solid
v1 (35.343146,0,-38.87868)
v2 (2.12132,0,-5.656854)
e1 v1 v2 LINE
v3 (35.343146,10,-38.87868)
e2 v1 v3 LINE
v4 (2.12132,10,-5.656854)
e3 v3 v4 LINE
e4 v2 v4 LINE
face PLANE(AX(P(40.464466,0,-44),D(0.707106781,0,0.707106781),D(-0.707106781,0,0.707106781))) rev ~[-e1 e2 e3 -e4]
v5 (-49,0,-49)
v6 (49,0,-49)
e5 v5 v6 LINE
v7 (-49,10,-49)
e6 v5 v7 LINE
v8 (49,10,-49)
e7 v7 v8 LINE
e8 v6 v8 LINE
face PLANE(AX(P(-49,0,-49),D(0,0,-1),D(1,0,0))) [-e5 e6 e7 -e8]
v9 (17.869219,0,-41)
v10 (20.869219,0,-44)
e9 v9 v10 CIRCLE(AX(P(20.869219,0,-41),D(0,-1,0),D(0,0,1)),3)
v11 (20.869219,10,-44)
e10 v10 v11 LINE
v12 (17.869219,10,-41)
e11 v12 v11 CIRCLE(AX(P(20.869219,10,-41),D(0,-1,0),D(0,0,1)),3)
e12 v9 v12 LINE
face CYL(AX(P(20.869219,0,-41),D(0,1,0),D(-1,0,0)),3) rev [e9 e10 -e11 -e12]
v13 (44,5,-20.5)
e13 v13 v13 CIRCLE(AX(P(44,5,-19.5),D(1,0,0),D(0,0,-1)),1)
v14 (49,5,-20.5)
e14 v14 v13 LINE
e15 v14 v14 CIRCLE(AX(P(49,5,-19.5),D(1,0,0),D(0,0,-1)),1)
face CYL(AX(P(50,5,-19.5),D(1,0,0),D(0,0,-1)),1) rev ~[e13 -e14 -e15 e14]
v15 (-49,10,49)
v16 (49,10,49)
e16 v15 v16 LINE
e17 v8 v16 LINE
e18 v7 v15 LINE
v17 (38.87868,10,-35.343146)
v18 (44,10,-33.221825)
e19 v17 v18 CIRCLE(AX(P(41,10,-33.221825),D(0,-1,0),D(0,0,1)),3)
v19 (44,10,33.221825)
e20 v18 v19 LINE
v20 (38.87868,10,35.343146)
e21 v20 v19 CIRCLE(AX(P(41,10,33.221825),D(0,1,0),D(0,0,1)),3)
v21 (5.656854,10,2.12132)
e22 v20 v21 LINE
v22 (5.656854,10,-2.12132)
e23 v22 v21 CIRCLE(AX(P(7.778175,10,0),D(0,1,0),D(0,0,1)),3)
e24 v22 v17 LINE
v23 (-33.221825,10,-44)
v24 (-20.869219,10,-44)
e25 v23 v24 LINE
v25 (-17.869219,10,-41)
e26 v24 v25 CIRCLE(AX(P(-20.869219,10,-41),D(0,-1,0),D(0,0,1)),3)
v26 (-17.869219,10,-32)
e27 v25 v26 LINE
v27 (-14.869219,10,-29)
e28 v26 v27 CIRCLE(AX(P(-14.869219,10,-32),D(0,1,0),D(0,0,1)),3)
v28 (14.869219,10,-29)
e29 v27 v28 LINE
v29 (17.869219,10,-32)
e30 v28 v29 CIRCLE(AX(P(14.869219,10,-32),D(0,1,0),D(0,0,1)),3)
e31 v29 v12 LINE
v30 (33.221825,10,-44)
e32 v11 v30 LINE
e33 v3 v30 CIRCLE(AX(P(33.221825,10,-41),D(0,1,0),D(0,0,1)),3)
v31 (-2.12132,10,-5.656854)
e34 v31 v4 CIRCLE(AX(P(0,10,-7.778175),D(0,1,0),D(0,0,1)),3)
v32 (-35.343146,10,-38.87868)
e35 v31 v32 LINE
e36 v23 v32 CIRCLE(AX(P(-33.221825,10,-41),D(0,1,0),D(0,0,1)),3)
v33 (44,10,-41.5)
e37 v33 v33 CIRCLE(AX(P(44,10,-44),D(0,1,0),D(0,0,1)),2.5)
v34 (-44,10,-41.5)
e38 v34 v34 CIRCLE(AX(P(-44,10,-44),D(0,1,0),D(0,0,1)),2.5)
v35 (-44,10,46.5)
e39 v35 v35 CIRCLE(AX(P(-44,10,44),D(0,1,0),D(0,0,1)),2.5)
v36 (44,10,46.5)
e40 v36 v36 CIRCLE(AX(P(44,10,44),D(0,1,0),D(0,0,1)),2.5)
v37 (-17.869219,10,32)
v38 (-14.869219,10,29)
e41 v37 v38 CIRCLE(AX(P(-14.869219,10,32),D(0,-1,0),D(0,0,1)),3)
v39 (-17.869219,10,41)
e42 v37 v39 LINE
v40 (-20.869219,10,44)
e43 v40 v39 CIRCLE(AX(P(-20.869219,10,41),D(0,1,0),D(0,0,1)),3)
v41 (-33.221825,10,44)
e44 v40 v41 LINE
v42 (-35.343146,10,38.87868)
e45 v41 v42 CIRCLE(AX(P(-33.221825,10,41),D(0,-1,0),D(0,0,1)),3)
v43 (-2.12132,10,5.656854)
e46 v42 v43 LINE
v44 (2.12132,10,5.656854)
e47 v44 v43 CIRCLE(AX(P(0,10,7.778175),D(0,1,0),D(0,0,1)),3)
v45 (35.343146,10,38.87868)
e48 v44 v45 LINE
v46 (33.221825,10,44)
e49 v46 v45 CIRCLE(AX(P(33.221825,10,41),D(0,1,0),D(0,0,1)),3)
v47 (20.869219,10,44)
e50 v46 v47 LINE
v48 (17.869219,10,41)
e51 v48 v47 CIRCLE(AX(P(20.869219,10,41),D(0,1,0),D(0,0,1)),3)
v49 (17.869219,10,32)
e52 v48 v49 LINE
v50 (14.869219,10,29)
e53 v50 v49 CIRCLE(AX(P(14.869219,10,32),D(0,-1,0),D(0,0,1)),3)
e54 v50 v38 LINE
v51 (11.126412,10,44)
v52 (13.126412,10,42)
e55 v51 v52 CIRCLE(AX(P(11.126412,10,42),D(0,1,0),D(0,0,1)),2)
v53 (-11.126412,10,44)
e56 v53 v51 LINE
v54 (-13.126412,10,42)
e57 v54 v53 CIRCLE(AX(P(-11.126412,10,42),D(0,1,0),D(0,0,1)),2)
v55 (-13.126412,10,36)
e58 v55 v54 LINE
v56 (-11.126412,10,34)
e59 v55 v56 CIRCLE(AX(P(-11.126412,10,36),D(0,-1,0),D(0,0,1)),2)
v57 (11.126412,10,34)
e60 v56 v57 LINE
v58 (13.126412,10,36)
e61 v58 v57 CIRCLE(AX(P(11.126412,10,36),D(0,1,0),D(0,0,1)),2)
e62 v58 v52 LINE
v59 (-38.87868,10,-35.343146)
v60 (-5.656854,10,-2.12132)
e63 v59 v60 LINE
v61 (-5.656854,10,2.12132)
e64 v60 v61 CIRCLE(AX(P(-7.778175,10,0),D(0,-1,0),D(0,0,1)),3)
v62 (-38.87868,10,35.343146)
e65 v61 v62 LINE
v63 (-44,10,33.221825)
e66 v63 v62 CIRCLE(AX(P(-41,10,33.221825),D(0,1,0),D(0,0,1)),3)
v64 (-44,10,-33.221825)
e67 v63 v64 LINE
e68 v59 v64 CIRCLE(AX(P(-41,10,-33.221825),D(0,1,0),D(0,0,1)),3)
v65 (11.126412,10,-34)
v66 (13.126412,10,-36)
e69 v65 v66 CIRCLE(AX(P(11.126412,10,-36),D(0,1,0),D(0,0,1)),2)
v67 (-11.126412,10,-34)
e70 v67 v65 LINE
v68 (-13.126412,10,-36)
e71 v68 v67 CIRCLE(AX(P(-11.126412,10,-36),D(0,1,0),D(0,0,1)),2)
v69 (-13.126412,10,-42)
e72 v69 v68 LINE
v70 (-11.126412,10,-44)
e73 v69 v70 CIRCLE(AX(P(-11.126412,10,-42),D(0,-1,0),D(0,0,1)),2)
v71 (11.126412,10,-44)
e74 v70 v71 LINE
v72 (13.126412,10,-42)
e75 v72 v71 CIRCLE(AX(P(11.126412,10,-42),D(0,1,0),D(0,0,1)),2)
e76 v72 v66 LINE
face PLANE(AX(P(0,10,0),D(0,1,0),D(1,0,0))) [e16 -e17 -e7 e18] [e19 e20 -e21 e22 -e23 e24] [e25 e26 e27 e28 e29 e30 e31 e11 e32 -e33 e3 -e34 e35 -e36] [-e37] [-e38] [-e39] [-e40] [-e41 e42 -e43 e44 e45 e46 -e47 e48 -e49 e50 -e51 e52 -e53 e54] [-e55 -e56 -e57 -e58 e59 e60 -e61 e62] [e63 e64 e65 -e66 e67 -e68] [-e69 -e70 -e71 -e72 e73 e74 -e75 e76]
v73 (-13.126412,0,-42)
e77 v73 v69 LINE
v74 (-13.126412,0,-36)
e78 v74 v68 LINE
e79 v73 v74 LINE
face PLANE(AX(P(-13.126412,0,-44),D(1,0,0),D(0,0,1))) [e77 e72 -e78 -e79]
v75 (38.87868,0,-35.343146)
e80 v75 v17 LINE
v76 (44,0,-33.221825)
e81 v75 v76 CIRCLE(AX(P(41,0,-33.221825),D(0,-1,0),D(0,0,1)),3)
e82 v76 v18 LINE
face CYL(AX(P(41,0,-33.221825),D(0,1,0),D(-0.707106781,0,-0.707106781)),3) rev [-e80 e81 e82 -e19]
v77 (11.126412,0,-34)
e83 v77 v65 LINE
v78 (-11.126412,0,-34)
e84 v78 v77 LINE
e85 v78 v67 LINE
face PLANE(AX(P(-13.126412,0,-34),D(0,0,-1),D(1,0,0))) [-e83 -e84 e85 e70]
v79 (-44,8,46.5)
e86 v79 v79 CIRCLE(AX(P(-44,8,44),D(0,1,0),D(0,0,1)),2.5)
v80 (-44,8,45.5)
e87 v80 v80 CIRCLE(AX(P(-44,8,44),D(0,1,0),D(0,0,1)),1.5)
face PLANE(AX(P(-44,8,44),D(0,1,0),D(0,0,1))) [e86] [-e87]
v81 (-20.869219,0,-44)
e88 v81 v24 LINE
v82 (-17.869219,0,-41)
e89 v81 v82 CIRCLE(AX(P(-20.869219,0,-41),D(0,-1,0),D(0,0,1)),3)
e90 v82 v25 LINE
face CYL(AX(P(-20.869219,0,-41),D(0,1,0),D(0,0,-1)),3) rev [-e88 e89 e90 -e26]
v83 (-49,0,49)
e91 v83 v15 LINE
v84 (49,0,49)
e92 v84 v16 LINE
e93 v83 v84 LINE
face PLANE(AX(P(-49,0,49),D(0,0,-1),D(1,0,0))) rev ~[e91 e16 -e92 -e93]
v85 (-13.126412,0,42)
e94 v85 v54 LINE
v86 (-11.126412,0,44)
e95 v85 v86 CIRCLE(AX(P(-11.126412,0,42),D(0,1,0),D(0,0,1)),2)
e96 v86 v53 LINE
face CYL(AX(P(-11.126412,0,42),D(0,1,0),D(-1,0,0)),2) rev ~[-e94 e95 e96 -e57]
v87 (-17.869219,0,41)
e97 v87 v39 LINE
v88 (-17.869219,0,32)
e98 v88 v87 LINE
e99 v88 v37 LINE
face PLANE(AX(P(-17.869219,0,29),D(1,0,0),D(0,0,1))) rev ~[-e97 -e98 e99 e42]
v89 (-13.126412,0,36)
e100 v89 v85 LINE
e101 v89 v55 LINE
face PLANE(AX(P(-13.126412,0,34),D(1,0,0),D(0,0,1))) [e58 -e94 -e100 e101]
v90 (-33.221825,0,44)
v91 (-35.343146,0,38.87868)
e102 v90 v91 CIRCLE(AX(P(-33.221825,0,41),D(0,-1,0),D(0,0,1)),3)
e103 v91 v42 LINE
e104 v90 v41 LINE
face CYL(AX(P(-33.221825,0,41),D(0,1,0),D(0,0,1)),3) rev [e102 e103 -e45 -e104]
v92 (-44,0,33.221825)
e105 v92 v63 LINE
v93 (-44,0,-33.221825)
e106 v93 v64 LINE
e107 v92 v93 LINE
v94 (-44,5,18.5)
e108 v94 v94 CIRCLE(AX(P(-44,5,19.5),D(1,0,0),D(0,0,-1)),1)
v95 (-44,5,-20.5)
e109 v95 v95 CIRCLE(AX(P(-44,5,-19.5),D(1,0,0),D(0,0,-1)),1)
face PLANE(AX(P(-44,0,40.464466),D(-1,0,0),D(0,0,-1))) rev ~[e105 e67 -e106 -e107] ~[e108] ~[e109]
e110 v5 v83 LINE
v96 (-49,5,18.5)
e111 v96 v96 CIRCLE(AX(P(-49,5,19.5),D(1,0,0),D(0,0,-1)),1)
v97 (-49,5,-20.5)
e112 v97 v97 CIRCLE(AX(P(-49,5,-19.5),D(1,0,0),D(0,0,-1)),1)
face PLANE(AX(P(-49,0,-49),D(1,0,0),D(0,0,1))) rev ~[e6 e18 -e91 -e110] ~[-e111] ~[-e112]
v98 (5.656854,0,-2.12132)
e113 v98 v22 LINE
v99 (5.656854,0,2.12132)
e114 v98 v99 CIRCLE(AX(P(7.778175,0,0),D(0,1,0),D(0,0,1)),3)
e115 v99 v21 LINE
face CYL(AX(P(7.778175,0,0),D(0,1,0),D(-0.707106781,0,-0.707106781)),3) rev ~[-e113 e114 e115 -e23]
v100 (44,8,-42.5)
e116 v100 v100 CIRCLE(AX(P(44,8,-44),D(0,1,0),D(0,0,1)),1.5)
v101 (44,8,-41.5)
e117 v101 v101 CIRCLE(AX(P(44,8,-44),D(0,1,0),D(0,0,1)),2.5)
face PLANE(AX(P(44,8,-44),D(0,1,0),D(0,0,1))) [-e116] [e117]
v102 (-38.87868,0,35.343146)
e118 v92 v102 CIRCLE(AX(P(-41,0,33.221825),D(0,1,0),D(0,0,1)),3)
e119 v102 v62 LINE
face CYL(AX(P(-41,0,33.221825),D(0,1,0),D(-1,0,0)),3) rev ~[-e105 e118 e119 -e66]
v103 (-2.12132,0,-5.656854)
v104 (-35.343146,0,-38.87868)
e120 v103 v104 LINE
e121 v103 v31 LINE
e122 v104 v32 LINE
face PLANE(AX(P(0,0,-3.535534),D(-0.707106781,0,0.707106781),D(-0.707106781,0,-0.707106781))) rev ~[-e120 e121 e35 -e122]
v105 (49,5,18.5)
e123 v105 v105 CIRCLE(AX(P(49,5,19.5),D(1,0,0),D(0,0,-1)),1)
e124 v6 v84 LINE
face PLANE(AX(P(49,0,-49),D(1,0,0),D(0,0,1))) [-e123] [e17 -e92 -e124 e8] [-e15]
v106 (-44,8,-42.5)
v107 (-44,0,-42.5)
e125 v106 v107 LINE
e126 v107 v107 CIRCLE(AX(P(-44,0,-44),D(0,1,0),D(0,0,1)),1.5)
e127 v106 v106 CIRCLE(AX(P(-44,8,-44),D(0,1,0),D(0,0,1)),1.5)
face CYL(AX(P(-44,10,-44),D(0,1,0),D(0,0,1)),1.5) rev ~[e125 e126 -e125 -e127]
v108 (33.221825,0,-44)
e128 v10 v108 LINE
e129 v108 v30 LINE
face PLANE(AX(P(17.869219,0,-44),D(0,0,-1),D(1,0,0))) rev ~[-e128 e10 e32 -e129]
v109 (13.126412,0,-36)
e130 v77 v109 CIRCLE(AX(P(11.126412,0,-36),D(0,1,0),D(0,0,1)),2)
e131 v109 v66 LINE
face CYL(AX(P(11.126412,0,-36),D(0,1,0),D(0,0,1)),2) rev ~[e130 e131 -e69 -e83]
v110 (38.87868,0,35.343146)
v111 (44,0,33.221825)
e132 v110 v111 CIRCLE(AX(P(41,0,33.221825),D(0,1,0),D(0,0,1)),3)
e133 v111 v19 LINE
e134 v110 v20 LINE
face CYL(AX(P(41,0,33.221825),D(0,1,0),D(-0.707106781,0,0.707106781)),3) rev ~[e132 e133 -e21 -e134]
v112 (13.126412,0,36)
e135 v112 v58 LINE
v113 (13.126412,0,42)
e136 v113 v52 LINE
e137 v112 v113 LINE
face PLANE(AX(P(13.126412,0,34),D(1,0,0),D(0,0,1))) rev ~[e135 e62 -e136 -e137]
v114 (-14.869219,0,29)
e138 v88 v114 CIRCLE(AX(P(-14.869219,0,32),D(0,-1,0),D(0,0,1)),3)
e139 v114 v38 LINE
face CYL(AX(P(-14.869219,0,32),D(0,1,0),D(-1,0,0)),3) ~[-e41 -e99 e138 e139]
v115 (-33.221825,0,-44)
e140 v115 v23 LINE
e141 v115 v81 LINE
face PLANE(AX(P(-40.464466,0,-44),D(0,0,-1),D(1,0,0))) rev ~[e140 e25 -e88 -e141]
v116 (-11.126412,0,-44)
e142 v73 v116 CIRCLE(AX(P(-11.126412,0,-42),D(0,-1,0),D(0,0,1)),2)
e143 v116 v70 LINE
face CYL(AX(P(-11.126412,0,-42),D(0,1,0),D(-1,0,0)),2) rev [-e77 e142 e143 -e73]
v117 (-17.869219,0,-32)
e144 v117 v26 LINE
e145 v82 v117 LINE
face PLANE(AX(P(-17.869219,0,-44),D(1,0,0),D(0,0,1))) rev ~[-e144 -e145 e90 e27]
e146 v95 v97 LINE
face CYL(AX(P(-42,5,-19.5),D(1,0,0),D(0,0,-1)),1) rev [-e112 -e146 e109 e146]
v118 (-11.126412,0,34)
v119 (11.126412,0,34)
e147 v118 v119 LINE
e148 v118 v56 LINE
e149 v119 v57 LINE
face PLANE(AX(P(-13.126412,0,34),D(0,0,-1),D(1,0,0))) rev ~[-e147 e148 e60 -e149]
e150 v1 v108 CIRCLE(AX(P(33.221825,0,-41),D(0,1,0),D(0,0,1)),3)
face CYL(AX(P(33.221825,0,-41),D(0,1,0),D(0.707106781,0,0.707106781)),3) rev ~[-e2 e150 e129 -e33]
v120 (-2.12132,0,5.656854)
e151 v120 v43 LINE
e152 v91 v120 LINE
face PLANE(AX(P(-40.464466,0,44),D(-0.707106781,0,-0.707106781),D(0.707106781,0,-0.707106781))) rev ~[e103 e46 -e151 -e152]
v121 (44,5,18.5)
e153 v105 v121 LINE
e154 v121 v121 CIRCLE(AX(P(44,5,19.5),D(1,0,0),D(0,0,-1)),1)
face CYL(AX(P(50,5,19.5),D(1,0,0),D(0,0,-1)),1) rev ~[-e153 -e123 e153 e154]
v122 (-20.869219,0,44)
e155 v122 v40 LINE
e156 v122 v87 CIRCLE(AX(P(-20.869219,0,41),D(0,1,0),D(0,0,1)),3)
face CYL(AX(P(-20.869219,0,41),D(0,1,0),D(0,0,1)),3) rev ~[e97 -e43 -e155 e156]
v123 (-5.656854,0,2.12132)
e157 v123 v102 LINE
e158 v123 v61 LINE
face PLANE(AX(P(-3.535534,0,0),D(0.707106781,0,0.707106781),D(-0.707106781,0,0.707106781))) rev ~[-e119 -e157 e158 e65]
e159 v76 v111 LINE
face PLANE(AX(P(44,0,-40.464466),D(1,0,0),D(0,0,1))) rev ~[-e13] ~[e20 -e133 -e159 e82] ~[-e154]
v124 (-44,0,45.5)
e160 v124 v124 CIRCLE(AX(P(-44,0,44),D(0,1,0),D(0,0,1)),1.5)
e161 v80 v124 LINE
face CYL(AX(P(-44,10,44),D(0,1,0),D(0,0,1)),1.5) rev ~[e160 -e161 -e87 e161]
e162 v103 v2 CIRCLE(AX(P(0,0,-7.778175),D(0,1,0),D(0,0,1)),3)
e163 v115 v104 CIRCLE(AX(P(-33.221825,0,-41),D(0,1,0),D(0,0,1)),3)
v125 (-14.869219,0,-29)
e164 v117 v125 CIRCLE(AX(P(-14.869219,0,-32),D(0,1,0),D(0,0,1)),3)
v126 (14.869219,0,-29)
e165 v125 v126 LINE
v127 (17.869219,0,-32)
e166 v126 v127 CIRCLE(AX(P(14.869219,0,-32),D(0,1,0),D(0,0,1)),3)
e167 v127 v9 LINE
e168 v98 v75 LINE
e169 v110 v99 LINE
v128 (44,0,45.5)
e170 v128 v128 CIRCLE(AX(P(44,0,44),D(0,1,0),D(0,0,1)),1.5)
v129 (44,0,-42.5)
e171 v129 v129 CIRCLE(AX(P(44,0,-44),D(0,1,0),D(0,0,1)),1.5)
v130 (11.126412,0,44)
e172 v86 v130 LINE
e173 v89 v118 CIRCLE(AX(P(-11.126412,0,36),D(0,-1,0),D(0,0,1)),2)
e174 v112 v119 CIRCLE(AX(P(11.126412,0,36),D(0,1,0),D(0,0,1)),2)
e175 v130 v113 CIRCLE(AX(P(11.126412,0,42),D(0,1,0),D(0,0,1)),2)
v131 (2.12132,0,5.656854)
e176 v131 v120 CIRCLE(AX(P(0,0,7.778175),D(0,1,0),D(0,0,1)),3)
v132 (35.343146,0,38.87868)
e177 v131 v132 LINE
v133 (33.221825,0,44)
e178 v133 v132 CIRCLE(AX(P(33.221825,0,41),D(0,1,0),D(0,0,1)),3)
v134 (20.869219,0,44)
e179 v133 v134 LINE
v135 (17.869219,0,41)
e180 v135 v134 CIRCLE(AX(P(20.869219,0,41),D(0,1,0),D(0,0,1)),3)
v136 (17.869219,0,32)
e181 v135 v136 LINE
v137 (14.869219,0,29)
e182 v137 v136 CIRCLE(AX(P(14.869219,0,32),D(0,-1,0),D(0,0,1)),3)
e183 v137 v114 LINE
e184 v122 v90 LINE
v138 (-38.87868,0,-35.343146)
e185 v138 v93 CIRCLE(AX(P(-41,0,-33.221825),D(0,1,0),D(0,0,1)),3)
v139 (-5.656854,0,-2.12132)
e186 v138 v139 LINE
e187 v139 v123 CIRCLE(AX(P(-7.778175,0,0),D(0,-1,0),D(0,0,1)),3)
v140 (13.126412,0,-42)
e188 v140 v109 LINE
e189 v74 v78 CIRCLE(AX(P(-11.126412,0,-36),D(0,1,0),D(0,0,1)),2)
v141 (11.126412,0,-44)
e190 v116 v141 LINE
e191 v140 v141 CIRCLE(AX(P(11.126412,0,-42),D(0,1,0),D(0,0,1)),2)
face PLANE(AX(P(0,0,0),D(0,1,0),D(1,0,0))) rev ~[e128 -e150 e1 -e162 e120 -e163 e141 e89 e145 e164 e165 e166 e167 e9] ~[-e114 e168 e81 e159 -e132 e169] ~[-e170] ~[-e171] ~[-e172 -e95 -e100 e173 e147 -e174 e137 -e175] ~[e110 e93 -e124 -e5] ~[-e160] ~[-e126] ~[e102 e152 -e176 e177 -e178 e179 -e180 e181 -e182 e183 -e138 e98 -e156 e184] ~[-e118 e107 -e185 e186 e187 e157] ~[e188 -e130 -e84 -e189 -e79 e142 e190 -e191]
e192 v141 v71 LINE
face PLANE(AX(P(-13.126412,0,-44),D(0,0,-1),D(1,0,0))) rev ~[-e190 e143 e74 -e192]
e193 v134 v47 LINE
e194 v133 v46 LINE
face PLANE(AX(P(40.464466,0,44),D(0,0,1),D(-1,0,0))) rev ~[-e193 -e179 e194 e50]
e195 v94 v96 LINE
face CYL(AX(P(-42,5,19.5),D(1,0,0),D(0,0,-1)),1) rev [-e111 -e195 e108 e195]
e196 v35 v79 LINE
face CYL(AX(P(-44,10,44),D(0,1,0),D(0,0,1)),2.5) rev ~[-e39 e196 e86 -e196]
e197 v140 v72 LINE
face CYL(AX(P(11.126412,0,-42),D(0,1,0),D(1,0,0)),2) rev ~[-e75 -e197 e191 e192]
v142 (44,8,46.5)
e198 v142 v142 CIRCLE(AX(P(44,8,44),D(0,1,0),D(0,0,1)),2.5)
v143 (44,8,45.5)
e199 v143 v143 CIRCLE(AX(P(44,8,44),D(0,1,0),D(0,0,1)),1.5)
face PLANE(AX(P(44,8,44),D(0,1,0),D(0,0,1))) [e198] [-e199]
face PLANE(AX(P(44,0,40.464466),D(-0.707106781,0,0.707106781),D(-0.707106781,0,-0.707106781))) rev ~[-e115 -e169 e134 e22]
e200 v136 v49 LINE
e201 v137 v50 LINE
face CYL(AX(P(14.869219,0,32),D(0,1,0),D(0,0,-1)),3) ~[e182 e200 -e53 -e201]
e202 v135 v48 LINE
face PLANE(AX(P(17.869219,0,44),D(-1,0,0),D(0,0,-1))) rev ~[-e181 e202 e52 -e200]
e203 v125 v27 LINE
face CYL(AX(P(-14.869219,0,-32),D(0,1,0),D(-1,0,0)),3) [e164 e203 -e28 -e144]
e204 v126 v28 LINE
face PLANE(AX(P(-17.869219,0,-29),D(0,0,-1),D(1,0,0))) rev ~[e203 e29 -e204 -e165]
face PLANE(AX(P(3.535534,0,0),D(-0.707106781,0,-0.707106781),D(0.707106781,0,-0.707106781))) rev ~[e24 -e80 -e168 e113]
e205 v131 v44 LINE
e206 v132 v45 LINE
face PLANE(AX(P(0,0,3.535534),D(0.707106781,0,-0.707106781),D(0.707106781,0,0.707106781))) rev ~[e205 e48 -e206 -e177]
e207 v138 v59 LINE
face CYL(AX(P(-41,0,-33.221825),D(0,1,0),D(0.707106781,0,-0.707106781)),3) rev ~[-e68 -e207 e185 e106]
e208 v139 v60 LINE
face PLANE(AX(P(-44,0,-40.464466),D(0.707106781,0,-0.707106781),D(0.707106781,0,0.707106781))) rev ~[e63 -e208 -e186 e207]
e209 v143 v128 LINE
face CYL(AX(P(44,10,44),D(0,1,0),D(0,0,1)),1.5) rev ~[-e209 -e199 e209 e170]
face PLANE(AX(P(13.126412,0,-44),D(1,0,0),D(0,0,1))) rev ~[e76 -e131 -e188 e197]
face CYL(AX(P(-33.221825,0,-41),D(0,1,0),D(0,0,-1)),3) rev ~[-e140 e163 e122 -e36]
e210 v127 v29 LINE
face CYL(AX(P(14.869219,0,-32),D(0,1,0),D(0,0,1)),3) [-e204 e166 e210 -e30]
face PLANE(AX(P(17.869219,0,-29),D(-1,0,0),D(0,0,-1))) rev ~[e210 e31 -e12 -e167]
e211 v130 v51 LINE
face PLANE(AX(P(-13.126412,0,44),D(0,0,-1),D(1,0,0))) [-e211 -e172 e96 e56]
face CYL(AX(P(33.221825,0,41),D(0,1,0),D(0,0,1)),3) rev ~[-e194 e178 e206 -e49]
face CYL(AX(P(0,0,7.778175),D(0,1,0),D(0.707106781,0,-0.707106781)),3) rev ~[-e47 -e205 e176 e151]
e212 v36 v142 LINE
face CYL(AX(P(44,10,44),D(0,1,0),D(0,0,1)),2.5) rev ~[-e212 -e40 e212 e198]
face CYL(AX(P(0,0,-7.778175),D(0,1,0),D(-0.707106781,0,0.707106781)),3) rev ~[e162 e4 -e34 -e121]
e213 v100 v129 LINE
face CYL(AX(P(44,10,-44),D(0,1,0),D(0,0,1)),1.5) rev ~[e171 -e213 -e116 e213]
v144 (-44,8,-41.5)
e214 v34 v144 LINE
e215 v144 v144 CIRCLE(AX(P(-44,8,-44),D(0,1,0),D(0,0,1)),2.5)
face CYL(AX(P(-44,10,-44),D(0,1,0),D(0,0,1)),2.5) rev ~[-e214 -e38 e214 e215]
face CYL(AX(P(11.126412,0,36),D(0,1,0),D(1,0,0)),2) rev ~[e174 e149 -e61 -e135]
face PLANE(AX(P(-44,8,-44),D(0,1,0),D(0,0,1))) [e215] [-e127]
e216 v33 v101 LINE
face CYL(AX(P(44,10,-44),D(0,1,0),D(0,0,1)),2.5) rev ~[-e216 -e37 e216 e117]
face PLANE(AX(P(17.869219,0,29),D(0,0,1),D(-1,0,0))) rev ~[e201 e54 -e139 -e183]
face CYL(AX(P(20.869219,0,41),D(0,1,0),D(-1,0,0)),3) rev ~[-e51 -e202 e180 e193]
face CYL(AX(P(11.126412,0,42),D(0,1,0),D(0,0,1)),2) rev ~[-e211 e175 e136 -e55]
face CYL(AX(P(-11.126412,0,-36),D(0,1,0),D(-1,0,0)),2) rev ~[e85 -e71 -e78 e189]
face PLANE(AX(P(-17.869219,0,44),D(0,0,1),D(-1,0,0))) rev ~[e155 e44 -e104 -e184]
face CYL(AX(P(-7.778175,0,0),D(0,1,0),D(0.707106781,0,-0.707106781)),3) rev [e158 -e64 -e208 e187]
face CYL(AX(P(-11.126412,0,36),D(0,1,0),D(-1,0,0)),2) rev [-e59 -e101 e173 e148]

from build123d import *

# Parameters (mm, degrees)
SKETCH1_W           = 106
SKETCH1_H           = 106
BOSS_EXTRUDE1_DEPTH = 10
CUT_EXTRUDE9_DEPTH  = 1.5
SKETCH18_W          = 106
SKETCH18_H          = 106
SKETCH18_W_2        = 100
SKETCH18_H_2        = 100
CUT_EXTRUDE14_DEPTH = 10
SKETCH20_R          = 1
CUT_EXTRUDE15_DEPTH = 8
CUT_EXTRUDE16_START = -8
SKETCH21_R          = 1
CUT_EXTRUDE16_DEPTH = 8
SKETCH23_W          = 100
SKETCH23_H          = 100
SKETCH23_W_2        = 98
SKETCH23_H_2        = 98
CUT_EXTRUDE17_DEPTH = 10
SKETCH17_W          = 26.25282414
SKETCH17_H          = 10
CUT_EXTRUDE19_DEPTH = 10
FILLET2_R           = 3
FILLET3_R           = 3
FILLET4_R           = 2
SKETCH26_R          = 1.5
CUT_EXTRUDE20_DEPTH = 10
SKETCH27_R          = 2.5
CUT_EXTRUDE21_DEPTH = 2


with BuildPart() as part:
    # Sketch1 → Boss-Extrude1 (new body)
    with BuildSketch(Plane(origin=(0, 0, 0), x_dir=(1, 0, 0), z_dir=(0, 1, 0))):
        Rectangle(SKETCH1_W, SKETCH1_H)
    extrude(amount=BOSS_EXTRUDE1_DEPTH)

    # Sketch12 → Cut-Extrude9 (cut)
    with BuildSketch(Plane(origin=(53, 0, 0), x_dir=(0, 0, -1), z_dir=(1, 0, 0))):
        with BuildLine():
            ThreePointArc((-17.75, 5), (-18.262563133, 6.237436867), (-19.5, 6.75))
            Line((-19.5, 6.75), (-19.5, 3.25))
            ThreePointArc((-19.5, 3.25), (-18.262563133, 3.762563133), (-17.75, 5))
        make_face()
        with BuildLine():
            Line((-19.5, 3.25), (-19.5, 6.75))
            ThreePointArc((-19.5, 6.75), (-21.25, 5), (-19.5, 3.25))
        make_face()
        with BuildLine():
            ThreePointArc((21.25, 5), (20.737436867, 6.237436867), (19.5, 6.75))
            Line((19.5, 6.75), (19.5, 3.25))
            ThreePointArc((19.5, 3.25), (20.737436867, 3.762563133), (21.25, 5))
        make_face()
        with BuildLine():
            Line((19.5, 3.25), (19.5, 6.75))
            ThreePointArc((19.5, 6.75), (17.75, 5), (19.5, 3.25))
        make_face()
    extrude(amount=-CUT_EXTRUDE9_DEPTH, mode=Mode.SUBTRACT)

    # Sketch18 → Cut-Extrude14 (cut)
    with BuildSketch(Plane.XZ):
        Rectangle(SKETCH18_W, SKETCH18_H)
        Rectangle(SKETCH18_W_2, SKETCH18_H_2, mode=Mode.SUBTRACT)
    extrude(amount=-CUT_EXTRUDE14_DEPTH, mode=Mode.SUBTRACT)

    # Sketch20 → Cut-Extrude15 (cut)
    with BuildSketch(Plane(origin=(50, 0, 0), x_dir=(0, 0, -1), z_dir=(1, 0, 0))):
        with Locations((19.5, 5)):
            Circle(SKETCH20_R)
        with Locations((-19.5, 5)):
            Circle(SKETCH20_R)
    extrude(amount=-CUT_EXTRUDE15_DEPTH, mode=Mode.SUBTRACT)

    # Sketch21 → Cut-Extrude16 (cut)
    with BuildSketch(Plane.ZY.offset(50).offset(CUT_EXTRUDE16_START)):
        with Locations(Location((19.5, 5, 0), (0, 0, 180))):
            Circle(SKETCH21_R)
        with Locations(Location((-19.5, 5, 0), (0, 0, 180))):
            Circle(SKETCH21_R)
    extrude(amount=CUT_EXTRUDE16_DEPTH, mode=Mode.SUBTRACT)

    # Sketch23 → Cut-Extrude17 (cut)
    with BuildSketch(Plane.XZ):
        Rectangle(SKETCH23_W, SKETCH23_H)
        Rectangle(SKETCH23_W_2, SKETCH23_H_2, mode=Mode.SUBTRACT)
    extrude(amount=-CUT_EXTRUDE17_DEPTH, mode=Mode.SUBTRACT)

    # Sketch17 → Cut-Extrude19 (cut)
    with BuildSketch(Plane.XZ):
        Polygon((-40.464466094, 44), (0, 3.535533906), (40.464466094, 44), (17.869219367, 44), (17.869219367, 29), (-17.869219367, 29), (-17.869219367, 44), align=None)
        with Locations((0, 39)):
            Rectangle(SKETCH17_W, SKETCH17_H)
        Polygon((44, -40.464466094), (44, 40.464466094), (3.535533906, 0), align=None)
        Polygon((-3.535533906, 0), (-44, 40.464466094), (-44, -40.464466094), align=None)
        Polygon((17.869219367, -44), (40.464466094, -44), (0, -3.535533906), (-40.464466094, -44), (-17.869219367, -44), (-17.869219367, -29), (17.869219367, -29), align=None)
        with Locations((0, -39)):
            Rectangle(SKETCH17_W, SKETCH17_H)
    extrude(amount=-CUT_EXTRUDE19_DEPTH, mode=Mode.SUBTRACT)

    # Fillet2
    fillet2_edges = [part.edges().sort_by_distance(p)[0] for p in [
        (40.464466094, 5, 44),
        (0, 5, 3.535533906),
        (-40.464466094, 5, 44),
        (44, 5, 40.464466094),
        (3.535533906, 5, 0),
        (44, 5, -40.464466094),
        (-44, 5, -40.464466094),
        (-44, 5, 40.464466094),
        (-3.535533906, 5, 0),
        (-40.464466094, 5, -44),
        (0, 5, -3.535533906),
        (40.464466094, 5, -44),
    ]]
    fillet(fillet2_edges, radius=FILLET2_R)

    # Fillet3
    fillet3_edges = [part.edges().sort_by_distance(p)[0] for p in [
        (17.869219367, 5, 29),
        (17.869219367, 5, 44),
        (-17.869219367, 5, 44),
        (-17.869219367, 5, 29),
        (17.869219367, 5, -44),
        (17.869219367, 5, -29),
        (-17.869219367, 5, -29),
        (-17.869219367, 5, -44),
    ]]
    fillet(fillet3_edges, radius=FILLET3_R)

    # Fillet4
    fillet4_edges = [part.edges().sort_by_distance(p)[0] for p in [
        (13.12641207, 5, 34),
        (-13.12641207, 5, 34),
        (-13.12641207, 5, 44),
        (13.12641207, 5, 44),
        (13.12641207, 5, -44),
        (-13.12641207, 5, -44),
        (-13.12641207, 5, -34),
        (13.12641207, 5, -34),
    ]]
    fillet(fillet4_edges, radius=FILLET4_R)

    # Sketch26 → Cut-Extrude20 (cut)
    with BuildSketch(Plane(origin=(0, 10, 0), x_dir=(1, 0, 0), z_dir=(0, 1, 0))):
        with Locations(Location((44, -44, 0), (0, 0, 270))):
            Circle(SKETCH26_R)
        with Locations(Location((-44, -44, 0), (0, 0, 270))):
            Circle(SKETCH26_R)
        with Locations(Location((44, 44, 0), (0, 0, 270))):
            Circle(SKETCH26_R)
        with Locations(Location((-44, 44, 0), (0, 0, 270))):
            Circle(SKETCH26_R)
    extrude(amount=-CUT_EXTRUDE20_DEPTH, mode=Mode.SUBTRACT)

    # Sketch27 → Cut-Extrude21 (cut)
    with BuildSketch(Plane(origin=(0, 10, 0), x_dir=(1, 0, 0), z_dir=(0, 1, 0))):
        with Locations(Location((44, -44, 0), (0, 0, 270))):
            Circle(SKETCH27_R)
        with Locations(Location((-44, -44, 0), (0, 0, 270))):
            Circle(SKETCH27_R)
        with Locations(Location((-44, 44, 0), (0, 0, 270))):
            Circle(SKETCH27_R)
        with Locations(Location((44, 44, 0), (0, 0, 270))):
            Circle(SKETCH27_R)
    extrude(amount=-CUT_EXTRUDE21_DEPTH, mode=Mode.SUBTRACT)


solid = part.part
